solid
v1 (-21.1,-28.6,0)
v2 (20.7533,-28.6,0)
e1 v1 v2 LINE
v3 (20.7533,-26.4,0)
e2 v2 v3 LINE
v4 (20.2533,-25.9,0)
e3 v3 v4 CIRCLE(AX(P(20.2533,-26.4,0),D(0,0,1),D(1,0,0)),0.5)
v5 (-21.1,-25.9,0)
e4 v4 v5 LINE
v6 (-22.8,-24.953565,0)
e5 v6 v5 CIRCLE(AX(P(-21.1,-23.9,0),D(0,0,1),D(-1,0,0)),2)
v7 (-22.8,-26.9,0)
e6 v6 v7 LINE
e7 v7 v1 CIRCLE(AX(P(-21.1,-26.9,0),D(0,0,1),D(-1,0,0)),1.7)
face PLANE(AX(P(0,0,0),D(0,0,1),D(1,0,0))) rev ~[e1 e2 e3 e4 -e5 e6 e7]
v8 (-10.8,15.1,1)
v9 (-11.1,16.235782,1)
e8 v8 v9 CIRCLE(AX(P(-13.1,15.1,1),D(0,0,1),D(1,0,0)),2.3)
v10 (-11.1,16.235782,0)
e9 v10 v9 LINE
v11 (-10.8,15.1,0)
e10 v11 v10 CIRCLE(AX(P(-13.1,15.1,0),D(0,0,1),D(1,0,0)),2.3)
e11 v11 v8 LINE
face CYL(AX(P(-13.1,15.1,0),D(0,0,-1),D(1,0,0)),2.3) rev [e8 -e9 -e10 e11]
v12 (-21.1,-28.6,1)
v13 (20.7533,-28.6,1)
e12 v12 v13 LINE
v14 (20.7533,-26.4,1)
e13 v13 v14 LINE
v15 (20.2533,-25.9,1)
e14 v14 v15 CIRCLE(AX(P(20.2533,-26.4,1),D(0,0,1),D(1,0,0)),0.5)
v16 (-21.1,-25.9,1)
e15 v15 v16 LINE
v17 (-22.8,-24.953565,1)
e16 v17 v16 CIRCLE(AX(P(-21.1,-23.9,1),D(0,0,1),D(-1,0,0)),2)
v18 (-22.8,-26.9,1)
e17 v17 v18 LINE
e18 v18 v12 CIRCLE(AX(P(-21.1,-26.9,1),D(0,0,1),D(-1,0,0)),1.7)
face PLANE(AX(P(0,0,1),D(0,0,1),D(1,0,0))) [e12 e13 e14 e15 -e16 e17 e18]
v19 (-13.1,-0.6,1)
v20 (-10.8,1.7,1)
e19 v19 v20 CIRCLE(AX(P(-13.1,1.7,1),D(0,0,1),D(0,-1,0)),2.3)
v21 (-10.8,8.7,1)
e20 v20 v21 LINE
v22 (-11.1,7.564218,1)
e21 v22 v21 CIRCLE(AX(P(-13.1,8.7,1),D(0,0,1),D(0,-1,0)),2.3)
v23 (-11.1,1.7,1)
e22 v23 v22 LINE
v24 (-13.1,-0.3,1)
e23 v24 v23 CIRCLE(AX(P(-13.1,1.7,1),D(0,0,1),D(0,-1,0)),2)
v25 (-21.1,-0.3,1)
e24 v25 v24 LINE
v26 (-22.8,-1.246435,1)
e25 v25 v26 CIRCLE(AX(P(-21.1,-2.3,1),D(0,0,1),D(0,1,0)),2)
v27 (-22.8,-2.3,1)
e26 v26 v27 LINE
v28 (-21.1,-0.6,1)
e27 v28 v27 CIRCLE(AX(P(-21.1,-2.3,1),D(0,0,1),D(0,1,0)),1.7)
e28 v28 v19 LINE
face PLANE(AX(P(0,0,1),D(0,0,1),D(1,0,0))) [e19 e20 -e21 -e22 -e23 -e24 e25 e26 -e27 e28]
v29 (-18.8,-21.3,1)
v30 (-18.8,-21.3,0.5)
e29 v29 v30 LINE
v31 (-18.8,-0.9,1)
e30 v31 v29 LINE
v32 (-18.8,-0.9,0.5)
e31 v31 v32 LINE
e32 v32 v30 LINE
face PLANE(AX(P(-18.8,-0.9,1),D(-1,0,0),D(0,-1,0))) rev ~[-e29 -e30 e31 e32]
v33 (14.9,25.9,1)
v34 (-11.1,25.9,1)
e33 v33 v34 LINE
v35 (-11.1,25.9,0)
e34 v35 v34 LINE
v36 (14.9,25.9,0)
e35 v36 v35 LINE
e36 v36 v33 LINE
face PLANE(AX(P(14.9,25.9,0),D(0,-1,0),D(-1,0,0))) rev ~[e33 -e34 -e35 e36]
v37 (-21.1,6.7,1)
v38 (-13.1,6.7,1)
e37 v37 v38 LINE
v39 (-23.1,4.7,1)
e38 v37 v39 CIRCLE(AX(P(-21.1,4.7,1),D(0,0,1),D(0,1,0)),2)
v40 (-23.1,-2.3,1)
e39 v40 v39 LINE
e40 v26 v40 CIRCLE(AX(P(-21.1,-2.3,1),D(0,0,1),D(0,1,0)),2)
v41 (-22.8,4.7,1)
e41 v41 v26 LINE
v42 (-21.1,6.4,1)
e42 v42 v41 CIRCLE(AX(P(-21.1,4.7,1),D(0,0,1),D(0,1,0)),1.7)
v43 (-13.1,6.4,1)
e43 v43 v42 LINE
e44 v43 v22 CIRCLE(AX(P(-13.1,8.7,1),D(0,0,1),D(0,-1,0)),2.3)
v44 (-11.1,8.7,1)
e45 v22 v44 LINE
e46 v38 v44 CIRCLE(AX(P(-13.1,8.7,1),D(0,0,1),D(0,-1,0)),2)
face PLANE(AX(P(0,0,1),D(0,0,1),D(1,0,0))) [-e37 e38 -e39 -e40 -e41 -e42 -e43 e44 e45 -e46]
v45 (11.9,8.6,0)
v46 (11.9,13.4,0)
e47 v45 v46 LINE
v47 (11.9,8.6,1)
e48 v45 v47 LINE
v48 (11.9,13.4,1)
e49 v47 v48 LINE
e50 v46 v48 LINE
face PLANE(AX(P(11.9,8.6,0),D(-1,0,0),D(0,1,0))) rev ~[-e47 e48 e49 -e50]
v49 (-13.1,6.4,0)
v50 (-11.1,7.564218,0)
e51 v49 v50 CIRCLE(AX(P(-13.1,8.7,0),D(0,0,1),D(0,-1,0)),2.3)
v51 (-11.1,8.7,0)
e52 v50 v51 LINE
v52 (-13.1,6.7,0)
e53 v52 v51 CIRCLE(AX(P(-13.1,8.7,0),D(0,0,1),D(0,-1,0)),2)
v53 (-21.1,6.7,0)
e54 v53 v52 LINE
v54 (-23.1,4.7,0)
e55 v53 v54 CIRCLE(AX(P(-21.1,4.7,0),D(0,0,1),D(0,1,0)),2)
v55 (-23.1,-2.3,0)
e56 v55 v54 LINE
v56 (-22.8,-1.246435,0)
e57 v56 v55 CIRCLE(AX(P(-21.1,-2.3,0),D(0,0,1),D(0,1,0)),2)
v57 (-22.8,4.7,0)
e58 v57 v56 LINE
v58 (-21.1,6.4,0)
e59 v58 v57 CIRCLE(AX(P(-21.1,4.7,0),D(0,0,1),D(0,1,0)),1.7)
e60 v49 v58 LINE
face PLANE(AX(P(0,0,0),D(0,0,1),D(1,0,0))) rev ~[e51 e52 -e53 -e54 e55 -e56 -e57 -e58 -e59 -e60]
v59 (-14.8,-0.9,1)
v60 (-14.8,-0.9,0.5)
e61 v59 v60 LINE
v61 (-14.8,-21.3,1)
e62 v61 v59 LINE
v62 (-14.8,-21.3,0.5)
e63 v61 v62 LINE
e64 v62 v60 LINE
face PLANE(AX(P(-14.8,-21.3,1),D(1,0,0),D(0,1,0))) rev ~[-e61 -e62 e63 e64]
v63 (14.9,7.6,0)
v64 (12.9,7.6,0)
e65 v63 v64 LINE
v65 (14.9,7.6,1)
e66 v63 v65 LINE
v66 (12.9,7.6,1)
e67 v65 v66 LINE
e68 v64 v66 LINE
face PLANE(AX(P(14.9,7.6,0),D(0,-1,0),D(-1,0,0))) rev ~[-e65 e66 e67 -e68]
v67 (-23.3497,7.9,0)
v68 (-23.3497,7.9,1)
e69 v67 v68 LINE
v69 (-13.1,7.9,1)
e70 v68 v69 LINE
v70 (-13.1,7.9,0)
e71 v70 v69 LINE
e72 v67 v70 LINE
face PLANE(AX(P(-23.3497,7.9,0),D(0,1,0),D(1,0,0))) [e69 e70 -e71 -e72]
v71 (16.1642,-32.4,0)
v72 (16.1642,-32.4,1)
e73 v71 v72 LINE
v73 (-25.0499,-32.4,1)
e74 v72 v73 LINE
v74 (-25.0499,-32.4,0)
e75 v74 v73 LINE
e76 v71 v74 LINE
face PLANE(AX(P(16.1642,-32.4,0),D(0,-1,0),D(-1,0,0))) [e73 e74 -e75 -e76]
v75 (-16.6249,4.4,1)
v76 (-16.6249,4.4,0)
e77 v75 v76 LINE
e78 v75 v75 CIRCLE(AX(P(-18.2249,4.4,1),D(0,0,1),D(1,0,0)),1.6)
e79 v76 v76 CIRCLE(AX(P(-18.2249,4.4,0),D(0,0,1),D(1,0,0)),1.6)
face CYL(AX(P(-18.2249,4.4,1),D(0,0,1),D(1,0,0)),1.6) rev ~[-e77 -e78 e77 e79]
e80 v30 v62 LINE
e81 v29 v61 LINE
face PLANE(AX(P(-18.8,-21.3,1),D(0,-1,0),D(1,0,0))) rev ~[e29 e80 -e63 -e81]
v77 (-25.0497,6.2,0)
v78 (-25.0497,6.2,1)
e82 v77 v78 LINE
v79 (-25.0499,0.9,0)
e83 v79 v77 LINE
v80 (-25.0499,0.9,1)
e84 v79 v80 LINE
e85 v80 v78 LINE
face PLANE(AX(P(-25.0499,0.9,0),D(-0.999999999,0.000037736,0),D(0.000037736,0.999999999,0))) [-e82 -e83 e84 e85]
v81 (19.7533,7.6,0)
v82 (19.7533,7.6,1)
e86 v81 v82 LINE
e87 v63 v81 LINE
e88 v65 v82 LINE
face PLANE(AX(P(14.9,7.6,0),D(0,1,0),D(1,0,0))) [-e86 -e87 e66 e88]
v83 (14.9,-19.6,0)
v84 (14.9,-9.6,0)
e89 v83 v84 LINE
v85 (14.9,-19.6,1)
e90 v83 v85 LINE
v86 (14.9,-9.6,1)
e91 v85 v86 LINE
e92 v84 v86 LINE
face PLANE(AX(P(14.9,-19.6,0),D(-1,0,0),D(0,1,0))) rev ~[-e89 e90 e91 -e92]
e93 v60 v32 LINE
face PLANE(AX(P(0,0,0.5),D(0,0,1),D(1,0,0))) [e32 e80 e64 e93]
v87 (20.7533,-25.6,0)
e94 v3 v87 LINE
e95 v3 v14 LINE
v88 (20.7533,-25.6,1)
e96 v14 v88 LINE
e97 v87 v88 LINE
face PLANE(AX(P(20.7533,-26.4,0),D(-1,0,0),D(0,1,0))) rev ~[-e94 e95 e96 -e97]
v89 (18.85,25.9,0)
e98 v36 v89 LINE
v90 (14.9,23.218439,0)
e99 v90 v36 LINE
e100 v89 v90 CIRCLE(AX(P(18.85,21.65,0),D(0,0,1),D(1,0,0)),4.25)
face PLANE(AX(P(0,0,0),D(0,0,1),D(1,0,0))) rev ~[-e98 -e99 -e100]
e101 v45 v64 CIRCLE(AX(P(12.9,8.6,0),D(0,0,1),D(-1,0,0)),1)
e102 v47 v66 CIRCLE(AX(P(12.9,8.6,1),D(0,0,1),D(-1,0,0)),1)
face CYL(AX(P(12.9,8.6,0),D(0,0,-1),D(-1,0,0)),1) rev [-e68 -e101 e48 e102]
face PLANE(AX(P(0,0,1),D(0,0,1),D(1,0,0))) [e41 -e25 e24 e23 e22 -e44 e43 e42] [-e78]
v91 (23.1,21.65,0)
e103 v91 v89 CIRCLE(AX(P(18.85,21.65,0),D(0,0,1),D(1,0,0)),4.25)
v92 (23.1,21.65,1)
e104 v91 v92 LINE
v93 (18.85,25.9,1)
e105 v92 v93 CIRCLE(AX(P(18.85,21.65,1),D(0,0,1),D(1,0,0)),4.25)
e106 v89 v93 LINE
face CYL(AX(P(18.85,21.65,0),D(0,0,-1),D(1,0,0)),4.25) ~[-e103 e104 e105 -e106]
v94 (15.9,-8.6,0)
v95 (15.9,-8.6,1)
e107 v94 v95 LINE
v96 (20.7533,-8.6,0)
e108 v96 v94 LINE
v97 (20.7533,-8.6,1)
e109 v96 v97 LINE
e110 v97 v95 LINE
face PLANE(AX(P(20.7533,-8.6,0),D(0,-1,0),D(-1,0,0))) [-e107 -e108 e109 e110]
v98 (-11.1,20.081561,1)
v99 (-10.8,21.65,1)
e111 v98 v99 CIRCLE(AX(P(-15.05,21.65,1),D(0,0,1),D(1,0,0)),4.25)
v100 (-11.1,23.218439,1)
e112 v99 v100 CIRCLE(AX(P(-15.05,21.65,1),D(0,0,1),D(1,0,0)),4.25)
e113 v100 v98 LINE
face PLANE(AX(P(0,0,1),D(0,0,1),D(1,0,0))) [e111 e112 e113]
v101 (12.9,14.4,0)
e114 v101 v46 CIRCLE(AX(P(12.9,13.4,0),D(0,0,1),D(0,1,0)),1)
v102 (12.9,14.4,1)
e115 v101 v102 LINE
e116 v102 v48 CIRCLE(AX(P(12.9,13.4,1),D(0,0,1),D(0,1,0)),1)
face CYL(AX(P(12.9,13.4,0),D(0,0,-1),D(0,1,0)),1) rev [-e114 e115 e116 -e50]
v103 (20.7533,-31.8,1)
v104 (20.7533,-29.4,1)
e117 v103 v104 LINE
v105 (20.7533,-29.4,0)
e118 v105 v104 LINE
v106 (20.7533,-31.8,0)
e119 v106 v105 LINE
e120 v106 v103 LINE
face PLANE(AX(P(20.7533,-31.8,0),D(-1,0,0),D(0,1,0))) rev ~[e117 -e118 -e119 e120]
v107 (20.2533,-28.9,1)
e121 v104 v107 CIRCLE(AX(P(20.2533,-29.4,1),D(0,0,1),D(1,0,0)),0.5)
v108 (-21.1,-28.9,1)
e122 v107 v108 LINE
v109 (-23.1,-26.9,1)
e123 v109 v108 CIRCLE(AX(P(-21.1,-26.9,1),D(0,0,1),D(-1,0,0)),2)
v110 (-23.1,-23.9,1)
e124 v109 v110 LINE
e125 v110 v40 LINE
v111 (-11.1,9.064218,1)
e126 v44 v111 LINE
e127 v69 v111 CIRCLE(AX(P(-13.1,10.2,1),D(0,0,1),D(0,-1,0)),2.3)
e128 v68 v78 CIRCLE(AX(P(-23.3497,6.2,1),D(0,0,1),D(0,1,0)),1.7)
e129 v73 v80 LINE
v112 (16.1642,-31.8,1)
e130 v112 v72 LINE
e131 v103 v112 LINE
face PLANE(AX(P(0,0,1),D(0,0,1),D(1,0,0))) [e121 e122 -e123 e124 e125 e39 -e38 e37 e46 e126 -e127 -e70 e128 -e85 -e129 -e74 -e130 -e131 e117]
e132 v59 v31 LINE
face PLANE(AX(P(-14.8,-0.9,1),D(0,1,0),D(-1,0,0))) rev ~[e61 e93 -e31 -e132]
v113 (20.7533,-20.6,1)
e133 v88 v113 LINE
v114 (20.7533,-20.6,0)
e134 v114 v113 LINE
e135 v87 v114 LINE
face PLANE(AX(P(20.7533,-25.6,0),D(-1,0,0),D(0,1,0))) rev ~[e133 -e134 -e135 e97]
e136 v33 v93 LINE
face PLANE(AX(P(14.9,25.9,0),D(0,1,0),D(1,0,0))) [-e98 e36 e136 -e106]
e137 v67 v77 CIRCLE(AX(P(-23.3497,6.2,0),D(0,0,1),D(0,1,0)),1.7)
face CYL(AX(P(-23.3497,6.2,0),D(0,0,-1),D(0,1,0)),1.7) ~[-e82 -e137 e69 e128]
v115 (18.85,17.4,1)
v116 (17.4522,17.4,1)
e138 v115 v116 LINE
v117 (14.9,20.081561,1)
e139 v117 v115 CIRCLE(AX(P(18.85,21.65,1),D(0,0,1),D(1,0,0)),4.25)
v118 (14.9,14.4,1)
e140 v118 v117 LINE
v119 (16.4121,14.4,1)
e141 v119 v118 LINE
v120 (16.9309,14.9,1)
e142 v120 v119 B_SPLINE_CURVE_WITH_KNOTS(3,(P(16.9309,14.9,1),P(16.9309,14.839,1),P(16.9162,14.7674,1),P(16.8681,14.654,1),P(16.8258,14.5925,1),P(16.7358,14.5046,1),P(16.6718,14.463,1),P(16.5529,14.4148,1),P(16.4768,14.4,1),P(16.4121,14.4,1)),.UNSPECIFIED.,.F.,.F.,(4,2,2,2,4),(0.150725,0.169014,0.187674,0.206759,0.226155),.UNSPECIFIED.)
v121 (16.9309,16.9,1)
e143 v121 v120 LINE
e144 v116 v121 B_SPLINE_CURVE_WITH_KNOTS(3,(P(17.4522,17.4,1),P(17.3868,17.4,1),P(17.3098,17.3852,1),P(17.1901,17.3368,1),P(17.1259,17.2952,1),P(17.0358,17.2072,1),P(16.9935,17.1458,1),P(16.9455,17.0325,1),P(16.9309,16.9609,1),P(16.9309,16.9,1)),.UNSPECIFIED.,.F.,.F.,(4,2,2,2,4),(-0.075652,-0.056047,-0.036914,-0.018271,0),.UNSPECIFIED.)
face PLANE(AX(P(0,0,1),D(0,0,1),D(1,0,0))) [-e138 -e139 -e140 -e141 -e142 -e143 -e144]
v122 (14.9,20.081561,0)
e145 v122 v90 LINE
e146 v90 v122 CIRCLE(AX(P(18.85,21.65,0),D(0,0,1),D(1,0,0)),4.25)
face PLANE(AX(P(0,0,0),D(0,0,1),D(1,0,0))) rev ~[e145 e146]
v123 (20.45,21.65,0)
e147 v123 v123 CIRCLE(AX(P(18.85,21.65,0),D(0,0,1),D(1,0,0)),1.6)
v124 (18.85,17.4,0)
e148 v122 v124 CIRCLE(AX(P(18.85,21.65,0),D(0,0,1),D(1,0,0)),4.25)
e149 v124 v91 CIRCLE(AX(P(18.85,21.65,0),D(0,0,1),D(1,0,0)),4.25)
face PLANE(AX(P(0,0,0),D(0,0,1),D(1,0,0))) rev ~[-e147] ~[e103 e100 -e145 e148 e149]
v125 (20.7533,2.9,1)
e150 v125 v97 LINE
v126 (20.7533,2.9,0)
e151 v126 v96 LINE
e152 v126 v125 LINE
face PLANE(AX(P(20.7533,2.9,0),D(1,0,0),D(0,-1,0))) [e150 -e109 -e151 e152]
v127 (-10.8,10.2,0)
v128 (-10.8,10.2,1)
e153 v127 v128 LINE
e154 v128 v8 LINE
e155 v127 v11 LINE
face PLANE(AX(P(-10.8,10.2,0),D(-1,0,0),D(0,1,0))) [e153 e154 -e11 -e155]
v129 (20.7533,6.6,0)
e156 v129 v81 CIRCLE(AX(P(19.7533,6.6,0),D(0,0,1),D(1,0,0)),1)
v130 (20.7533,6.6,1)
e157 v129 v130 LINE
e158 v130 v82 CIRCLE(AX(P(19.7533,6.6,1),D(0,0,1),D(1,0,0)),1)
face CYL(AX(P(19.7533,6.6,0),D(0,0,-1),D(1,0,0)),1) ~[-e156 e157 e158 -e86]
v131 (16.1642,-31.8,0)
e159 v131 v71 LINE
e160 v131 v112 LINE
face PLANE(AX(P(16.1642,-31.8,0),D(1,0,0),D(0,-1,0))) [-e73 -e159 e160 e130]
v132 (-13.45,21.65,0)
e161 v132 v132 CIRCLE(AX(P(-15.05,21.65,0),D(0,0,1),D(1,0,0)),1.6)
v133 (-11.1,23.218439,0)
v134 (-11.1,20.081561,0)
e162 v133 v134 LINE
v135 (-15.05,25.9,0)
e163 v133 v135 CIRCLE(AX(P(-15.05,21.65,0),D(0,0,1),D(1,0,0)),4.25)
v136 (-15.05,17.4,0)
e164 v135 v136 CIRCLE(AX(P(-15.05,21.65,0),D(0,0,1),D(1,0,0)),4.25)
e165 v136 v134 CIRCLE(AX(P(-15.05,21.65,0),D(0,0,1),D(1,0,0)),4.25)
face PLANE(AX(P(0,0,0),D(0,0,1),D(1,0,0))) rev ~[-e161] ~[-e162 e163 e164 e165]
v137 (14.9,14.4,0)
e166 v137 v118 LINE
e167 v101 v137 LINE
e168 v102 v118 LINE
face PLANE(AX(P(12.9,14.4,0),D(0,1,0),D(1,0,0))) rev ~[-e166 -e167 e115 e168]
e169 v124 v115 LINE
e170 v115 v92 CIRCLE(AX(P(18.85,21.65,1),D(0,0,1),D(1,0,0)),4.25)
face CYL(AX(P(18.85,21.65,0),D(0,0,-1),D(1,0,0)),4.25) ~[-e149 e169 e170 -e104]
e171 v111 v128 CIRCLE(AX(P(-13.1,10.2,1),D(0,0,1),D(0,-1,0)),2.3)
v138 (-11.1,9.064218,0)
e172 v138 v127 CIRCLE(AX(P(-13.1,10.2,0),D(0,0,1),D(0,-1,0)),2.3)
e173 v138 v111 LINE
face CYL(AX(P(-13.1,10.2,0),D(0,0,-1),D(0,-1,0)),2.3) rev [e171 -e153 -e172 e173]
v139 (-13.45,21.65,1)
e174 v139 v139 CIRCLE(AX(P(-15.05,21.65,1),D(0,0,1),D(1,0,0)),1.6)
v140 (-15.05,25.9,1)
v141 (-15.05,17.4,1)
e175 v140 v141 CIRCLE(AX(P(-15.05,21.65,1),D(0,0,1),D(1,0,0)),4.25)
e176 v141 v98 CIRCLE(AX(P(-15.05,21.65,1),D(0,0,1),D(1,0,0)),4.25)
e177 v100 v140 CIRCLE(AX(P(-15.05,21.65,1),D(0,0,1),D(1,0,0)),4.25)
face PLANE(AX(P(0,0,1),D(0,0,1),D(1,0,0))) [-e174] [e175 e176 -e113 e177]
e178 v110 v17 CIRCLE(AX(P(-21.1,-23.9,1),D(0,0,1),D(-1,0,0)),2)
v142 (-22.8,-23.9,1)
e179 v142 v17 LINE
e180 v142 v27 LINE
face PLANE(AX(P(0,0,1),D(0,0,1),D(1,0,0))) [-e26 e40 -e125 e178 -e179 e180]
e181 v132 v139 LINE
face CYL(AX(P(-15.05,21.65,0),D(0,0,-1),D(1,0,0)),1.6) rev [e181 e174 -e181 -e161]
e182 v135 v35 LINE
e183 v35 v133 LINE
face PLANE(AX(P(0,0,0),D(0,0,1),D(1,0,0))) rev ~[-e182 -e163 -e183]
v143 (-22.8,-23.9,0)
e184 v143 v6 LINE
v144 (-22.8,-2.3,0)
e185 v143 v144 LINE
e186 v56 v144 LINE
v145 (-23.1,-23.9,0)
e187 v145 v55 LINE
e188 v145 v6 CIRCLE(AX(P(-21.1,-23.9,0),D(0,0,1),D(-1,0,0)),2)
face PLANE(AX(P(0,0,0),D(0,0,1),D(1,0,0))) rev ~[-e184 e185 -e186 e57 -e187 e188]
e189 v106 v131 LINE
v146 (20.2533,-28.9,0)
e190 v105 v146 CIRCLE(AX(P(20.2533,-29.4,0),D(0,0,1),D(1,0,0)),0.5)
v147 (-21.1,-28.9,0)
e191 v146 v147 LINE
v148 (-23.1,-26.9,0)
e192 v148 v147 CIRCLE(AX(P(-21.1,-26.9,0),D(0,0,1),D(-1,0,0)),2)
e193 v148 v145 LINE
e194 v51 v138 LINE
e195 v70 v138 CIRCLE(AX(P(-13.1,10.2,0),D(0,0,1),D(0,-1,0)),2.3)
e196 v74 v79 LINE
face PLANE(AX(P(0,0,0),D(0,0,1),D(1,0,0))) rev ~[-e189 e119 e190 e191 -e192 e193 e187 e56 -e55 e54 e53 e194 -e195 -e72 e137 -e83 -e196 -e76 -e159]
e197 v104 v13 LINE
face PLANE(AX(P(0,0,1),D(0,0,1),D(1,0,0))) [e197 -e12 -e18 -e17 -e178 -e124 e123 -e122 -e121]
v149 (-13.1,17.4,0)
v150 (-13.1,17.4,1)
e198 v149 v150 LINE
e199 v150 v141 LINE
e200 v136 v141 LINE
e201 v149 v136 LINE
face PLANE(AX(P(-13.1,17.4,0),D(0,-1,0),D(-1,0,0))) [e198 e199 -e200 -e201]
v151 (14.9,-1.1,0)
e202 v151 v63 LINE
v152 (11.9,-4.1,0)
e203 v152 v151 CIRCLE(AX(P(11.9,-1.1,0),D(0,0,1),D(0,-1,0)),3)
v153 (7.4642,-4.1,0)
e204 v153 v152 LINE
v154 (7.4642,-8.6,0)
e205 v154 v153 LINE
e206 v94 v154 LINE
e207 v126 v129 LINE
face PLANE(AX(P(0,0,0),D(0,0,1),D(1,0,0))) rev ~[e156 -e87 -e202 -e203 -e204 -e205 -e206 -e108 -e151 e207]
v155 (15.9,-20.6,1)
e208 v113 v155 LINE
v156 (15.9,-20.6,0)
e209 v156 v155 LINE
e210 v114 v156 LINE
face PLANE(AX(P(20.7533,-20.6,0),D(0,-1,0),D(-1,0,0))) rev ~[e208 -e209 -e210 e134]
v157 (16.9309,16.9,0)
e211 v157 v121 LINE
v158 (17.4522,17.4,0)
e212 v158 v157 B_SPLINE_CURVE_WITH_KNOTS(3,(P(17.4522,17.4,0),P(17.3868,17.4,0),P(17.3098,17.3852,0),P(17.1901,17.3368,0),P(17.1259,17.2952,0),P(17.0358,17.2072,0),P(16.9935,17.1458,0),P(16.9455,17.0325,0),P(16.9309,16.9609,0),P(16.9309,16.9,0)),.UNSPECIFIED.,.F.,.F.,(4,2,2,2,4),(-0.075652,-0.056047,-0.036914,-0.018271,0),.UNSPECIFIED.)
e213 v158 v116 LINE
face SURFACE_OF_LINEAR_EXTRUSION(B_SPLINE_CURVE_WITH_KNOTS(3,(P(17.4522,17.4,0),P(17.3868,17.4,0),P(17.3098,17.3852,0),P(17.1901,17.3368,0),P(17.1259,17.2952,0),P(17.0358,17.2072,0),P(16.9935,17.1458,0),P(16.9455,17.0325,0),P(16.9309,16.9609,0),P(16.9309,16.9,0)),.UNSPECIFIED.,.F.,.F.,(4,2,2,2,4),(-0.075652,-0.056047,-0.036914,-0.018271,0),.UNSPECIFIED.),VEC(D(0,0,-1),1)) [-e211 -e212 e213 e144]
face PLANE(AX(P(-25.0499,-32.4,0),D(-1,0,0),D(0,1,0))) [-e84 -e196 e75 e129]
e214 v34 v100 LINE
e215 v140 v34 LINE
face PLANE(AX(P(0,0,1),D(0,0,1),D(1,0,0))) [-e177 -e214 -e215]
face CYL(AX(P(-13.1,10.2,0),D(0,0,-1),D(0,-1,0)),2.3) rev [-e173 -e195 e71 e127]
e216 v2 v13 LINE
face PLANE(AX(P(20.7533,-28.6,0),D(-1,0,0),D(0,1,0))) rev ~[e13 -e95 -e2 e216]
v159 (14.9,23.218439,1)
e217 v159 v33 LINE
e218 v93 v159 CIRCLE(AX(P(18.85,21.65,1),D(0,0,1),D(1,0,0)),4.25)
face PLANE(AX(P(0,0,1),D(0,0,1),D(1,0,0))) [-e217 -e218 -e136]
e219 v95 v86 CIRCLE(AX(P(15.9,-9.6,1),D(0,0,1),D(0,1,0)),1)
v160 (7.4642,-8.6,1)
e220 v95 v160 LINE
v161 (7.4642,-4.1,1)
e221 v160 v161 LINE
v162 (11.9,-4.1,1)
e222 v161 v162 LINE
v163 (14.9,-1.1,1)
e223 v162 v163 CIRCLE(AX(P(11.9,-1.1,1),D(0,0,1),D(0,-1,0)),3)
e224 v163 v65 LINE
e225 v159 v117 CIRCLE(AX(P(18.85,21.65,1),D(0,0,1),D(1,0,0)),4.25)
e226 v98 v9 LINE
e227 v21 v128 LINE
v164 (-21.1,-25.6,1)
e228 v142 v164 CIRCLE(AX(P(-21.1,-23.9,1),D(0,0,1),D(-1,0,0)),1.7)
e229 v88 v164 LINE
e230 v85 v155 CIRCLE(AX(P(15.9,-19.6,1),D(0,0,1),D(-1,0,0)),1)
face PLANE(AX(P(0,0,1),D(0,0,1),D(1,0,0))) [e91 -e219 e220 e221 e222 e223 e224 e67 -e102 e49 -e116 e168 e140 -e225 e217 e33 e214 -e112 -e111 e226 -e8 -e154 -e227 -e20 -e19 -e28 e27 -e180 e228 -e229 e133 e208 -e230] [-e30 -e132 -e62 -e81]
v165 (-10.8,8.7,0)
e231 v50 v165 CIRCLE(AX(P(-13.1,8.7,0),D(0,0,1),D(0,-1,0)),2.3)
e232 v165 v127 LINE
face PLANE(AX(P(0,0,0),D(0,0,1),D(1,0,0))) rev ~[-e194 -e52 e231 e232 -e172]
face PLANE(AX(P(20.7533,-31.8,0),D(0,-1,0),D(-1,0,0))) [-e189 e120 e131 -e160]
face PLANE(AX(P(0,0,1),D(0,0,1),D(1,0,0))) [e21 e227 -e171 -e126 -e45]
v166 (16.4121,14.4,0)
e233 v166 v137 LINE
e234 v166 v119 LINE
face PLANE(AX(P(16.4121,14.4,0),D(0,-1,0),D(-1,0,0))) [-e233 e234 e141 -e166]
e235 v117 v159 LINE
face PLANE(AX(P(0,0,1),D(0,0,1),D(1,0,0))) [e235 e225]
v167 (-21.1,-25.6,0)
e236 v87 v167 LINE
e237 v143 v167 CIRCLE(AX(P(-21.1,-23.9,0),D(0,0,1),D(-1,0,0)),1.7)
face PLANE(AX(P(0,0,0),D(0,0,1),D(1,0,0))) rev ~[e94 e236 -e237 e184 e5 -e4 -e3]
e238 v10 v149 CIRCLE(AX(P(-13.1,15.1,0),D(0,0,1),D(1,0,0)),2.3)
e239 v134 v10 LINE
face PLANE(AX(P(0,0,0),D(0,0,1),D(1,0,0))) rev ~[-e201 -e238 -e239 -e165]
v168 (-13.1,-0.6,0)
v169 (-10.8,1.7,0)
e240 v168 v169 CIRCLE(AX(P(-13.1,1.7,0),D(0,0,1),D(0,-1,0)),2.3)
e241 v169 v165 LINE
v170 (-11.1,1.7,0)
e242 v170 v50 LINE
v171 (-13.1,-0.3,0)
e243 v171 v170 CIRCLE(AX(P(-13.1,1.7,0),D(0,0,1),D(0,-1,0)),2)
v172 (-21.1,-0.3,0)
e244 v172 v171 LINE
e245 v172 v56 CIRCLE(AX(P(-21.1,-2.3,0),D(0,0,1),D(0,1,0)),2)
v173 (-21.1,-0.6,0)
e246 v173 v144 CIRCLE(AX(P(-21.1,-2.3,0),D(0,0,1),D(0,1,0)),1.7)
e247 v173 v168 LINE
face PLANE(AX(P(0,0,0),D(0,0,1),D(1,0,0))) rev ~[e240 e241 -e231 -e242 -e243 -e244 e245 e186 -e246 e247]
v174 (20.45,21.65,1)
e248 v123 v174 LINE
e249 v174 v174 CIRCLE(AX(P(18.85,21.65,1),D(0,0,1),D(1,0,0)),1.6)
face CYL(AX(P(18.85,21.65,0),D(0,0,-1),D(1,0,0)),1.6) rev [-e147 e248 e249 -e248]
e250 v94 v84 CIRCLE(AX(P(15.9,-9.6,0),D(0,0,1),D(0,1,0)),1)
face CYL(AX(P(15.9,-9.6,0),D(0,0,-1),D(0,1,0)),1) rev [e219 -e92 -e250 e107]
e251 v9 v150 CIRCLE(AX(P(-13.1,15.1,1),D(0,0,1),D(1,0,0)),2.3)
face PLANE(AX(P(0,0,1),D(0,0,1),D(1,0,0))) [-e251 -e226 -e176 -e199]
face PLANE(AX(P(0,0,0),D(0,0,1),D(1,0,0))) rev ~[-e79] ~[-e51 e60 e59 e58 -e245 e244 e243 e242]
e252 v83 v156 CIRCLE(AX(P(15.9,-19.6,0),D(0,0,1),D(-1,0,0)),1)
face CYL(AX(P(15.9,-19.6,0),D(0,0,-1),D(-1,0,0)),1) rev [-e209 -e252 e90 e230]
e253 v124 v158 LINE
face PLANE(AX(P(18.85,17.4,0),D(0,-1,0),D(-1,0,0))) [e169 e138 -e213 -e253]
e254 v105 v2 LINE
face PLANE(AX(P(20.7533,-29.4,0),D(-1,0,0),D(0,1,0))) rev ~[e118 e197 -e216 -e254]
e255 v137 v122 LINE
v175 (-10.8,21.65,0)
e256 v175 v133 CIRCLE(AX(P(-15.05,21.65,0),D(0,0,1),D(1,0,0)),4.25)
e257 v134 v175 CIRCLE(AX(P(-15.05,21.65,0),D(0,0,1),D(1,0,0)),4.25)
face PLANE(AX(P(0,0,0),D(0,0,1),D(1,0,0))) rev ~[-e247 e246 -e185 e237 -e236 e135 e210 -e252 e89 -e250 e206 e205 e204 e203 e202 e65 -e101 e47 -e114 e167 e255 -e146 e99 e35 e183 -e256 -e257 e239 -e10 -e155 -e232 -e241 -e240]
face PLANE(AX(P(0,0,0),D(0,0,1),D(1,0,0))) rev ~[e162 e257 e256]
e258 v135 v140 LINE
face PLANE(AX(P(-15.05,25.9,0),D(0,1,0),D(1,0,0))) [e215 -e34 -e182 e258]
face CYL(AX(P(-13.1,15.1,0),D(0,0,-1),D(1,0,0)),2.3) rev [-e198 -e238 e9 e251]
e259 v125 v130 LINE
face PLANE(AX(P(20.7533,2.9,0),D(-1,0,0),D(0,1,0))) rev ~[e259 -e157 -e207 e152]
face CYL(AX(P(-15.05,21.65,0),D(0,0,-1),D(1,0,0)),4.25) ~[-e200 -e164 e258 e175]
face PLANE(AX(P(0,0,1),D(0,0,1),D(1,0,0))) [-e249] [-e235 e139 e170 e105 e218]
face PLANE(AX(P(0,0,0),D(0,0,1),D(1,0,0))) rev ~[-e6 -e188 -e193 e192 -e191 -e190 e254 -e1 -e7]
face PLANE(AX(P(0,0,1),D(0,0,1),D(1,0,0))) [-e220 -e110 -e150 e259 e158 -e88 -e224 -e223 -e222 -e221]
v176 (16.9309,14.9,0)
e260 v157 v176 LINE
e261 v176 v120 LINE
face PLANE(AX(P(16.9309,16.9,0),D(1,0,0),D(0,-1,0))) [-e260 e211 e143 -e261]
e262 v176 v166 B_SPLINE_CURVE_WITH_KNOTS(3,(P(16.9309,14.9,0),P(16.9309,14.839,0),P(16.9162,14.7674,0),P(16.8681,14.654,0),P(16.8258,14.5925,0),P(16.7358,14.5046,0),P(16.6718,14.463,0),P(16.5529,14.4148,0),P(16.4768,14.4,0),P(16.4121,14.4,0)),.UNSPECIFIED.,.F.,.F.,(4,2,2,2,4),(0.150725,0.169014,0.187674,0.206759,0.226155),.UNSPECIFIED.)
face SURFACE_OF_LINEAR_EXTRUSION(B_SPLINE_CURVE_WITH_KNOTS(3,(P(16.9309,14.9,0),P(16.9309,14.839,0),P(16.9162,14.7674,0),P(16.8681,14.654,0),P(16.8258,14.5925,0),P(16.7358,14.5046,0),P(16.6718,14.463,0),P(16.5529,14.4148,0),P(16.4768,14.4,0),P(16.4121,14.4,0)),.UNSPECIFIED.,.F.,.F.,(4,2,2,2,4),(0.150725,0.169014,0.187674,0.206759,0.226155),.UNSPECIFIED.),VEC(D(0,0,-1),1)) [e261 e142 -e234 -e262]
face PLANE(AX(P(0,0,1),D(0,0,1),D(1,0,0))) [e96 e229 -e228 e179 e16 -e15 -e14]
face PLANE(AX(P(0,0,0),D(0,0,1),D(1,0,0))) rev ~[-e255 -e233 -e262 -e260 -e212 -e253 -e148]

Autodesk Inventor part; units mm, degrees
ref_plane "YZ Plane" through (0, 0, 0) normal (1, 0, 0) x (0, 1, 0)
ref_plane "XZ Plane" through (0, 0, 0) normal (0, 1, 0) x (-1, 0, 0)
ref_plane "XY Plane" through (0, 0, 0) normal (0, 0, 1) x (1, 0, 0)
sketch "Эскиз1" plane through (0, 0, 0) normal (0, 0, 1) x (1, 0, 0)
  line L0 (-7.7719, -54) -> (-12.7719, -54) projected
  line L1 (-12.7719, -54) -> (-12.7719, -40.5) projected
  line L2 (-12.7719, -40.5) -> (-7.7719, -40.5) projected
  line L3 (-7.7719, -40.5) -> (-7.7719, -54) projected
  circle A0 centre (-17.7467, 10.9) radius 1.6 projected
  circle A1 centre (-17.7467, -40.1) radius 1.6 projected
  arc A2 (20.7533, -26.4) -> (20.2533, -25.9) centre (20.2533, -26.4) ccw projected
  line L4 (20.2533, -25.9) -> (-21.1, -25.9) projected
  arc A3 (-23.1, -23.9) -> (-21.1, -25.9) centre (-21.1, -23.9) ccw projected
  line L5 (-23.1, -23.9) -> (-23.1, -2.3) projected
  arc A4 (-21.1, -0.3) -> (-23.1, -2.3) centre (-21.1, -2.3) ccw projected
  line L6 (-21.1, -0.3) -> (-13.1, -0.3) projected
  arc A5 (-13.1, -0.3) -> (-11.1, 1.7) centre (-13.1, 1.7) ccw projected
  line L7 (-11.1, 1.7) -> (-11.1, 15.1) projected
  arc A6 (-11.1, 15.1) -> (-13.1, 17.1) centre (-13.1, 15.1) ccw projected
  line L8 (-13.1, 17.1) -> (-15.05, 17.1) projected
  arc A7 (-18.0974, 25.0287) -> (-15.05, 17.1) centre (-15.05, 21.65) ccw projected
  arc A8 (-18.0974, 25.0287) -> (-18.4323, 25.9) centre (-18.4323, 25.4) ccw projected
  line L9 (-25.3018, 25.9) -> (-18.4323, 25.9) projected
  line L10 (-25.3018, 25.9) -> (-25.3018, 22.9) projected
  line L11 (-26.6467, 22.9) -> (-25.3018, 22.9) projected
  line L12 (-26.6467, -42.7) -> (-26.6467, 22.9) projected
  line L13 (-26.6467, -42.7) -> (-18.7719, -42.7) projected
  line L14 (-18.7719, -42.7) -> (-18.7719, -54.2) projected
  line L15 (-18.7719, -54.2) -> (-25.3018, -54.2) projected
  line L16 (-25.3018, -54.2) -> (-25.3018, -55.1) projected
  line L17 (31.7533, -55.1) -> (-25.3018, -55.1) projected
  line L18 (31.7533, -55.1) -> (31.7533, -46.6) projected
  line L19 (31.7533, -46.6) -> (17.9318, -46.6) projected
  spline S0 degree 3 poles (17.3769, -46.1) (17.3769, -46.1597) (17.3919, -46.2298) (17.441, -46.342) (17.485, -46.4032) (17.5795, -46.4922) (17.6478, -46.5345) (17.7766, -46.5847) (17.8606, -46.6) (17.9318, -46.6) knots 0 0 0 0 0.017914 0.017914 0.036753 0.036753 0.056849 0.056849 0.078208 0.078208 0.078208 0.078208 projected
  line L20 (17.3769, -46.1) -> (17.3769, -44.1) projected
  spline S1 degree 3 poles (16.8292, -43.6) (16.8984, -43.6) (16.9801, -43.6153) (17.1065, -43.6649) (17.1743, -43.7071) (17.2685, -43.796) (17.3126, -43.8574) (17.3619, -43.9699) (17.3769, -44.0401) (17.3769, -44.1) knots 0.386783 0.386783 0.386783 0.386783 0.407551 0.407551 0.427519 0.427519 0.446405 0.446405 0.464367 0.464367 0.464367 0.464367 projected
  line L21 (16.8292, -43.6) -> (14.9, -43.6) projected
  line L22 (14.9, -43.6) -> (14.9, -36.8) projected
  line L23 (14.9, -36.8) -> (31.7533, -36.8) projected
  line L24 (31.7533, -36.8) -> (31.7533, -32.1) projected
  line L25 (31.7533, -32.1) -> (20.7533, -32.1) projected
  line L26 (20.7533, -32.1) -> (20.7533, -26.4) projected
  arc A9 (21.8974, 18.2713) -> (22.2323, 17.4) centre (22.2323, 17.9) ccw projected
  line L27 (22.2323, 17.4) -> (31.7533, 17.4) projected
  line L28 (31.7533, 17.4) -> (31.7533, 25.9) projected
  line L29 (22.2323, 25.9) -> (31.7533, 25.9) projected
  arc A10 (22.2323, 25.9) -> (21.8974, 25.0287) centre (22.2323, 25.4) ccw projected
  arc A11 (21.8974, 18.2713) -> (21.8974, 25.0287) centre (18.85, 21.65) ccw projected
  line L30 (21.5533, 2.9) -> (31.7533, 2.9) projected
  line L31 (31.7533, 2.9) -> (31.7533, 7.6) projected
  line L32 (31.7533, 7.6) -> (21.5533, 7.6) projected
  line L33 (7.4642, -8.6) -> (7.4642, -4.1) projected
  line L34 (20.7533, -8.6) -> (7.4642, -8.6) projected
  line L35 (20.7533, 2.9) -> (20.7533, -8.6) projected
  line L36 (21.5533, 2.9) -> (20.7533, 2.9) projected
  line L37 (14.9, 7.6) -> (21.5533, 7.6) projected
  line L38 (14.9, -1.1) -> (14.9, 7.6) projected
  arc A12 (11.9, -4.1) -> (14.9, -1.1) centre (11.9, -1.1) ccw projected
  line L39 (7.4642, -4.1) -> (11.9, -4.1) projected
  line L40 (7.4642, -4.1) -> (11.9, -4.1) projected
  circle A13 centre (-15.05, 21.65) radius 1.5 projected
  line L41 (-18.4323, 25.9) -> (-11.1, 25.9) projected
  arc A14 (-18.0974, 25.0287) -> (-18.4323, 25.9) centre (-18.4323, 25.4) ccw projected
  arc A15 (-18.0974, 25.0287) -> (-15.05, 17.1) centre (-15.05, 21.65) ccw projected
  line L42 (-13.1, 17.1) -> (-15.05, 17.1) projected
  arc A16 (-11.1, 15.1) -> (-13.1, 17.1) centre (-13.1, 15.1) ccw projected
  line L43 (-11.1, 25.9) -> (-11.1, 15.1) projected
  line L44 (14.9, 25.9) -> (22.2323, 25.9) projected
  line L45 (14.9, 14.4) -> (14.9, 25.9) projected
  line L46 (16.4121, 14.4) -> (14.9, 14.4) projected
  spline S2 degree 3 poles (16.9309, 14.9) (16.9309, 14.839) (16.9162, 14.7674) (16.8681, 14.654) (16.8258, 14.5925) (16.7358, 14.5046) (16.6718, 14.463) (16.5529, 14.4148) (16.4768, 14.4) (16.4121, 14.4) knots 0.150725 0.150725 0.150725 0.150725 0.169014 0.169014 0.187674 0.187674 0.206759 0.206759 0.226155 0.226155 0.226155 0.226155 projected
  line L47 (16.9309, 16.9) -> (16.9309, 14.9) projected
  spline S3 degree 3 poles (17.4522, 17.4) (17.3868, 17.4) (17.3098, 17.3852) (17.1901, 17.3368) (17.1259, 17.2952) (17.0358, 17.2072) (16.9935, 17.1458) (16.9455, 17.0325) (16.9309, 16.9609) (16.9309, 16.9) knots -0.075652 -0.075652 -0.075652 -0.075652 -0.056047 -0.056047 -0.036914 -0.036914 -0.018271 -0.018271 0 0 0 0 projected
  line L48 (22.2323, 17.4) -> (17.4522, 17.4) projected
  arc A17 (21.8974, 18.2713) -> (22.2323, 17.4) centre (22.2323, 17.9) ccw projected
  arc A18 (21.8974, 18.2713) -> (21.8974, 25.0287) centre (18.85, 21.65) ccw projected
  arc A19 (22.2323, 25.9) -> (21.8974, 25.0287) centre (22.2323, 25.4) ccw projected
  circle A20 centre (18.85, 21.65) radius 1.5 projected
  circle A21 centre (18.85, 21.65) radius 4.25
  circle A22 centre (-15.05, 21.65) radius 4.25
  line L49 (18.85, 25.9) -> (-15.05, 25.9)
  circle A23 centre (18.85, 21.65) radius 1.6
  circle A24 centre (-15.05, 21.65) radius 1.6
  line L50 (14.9, 7.6) -> (12.9, 7.6)
  line L51 (11.9, 8.6) -> (11.9, 13.4)
  line L52 (12.9, 14.4) -> (14.9, 14.4)
  line L53 (14.9, 14.4) -> (14.9, 7.6)
  line L54 (20.7533, -25.6) -> (-21.1, -25.6)
  arc A25 (-22.8, -23.9) -> (-21.1, -25.6) centre (-21.1, -23.9) ccw
  line L55 (-22.8, -23.9) -> (-22.8, -2.3)
  line L56 (-21.1, -0.6) -> (-13.1, -0.6)
  arc A26 (-13.1, -0.6) -> (-10.8, 1.7) centre (-13.1, 1.7) ccw
  arc A27 (-21.1, -0.6) -> (-22.8, -2.3) centre (-21.1, -2.3) ccw
  line L57 (-10.8, 1.7) -> (-10.8, 15.1)
  arc A28 (-10.8, 15.1) -> (-13.1, 17.4) centre (-13.1, 15.1) ccw
  line L58 (-13.1, 17.4) -> (-15.05, 17.4)
  arc A29 (21.0533, 3.4) -> (21.5533, 2.9) centre (21.5533, 3.4) ccw projected
  arc A30 (21.5533, 7.6) -> (21.0533, 7.1) centre (21.5533, 7.1) ccw projected
  line L59 (21.0533, 7.1) -> (21.0533, 3.4) projected
  arc A31 (21.0533, 3.4) -> (21.5533, 2.9) centre (21.5533, 3.4) ccw projected
  line L60 (21.0533, 7.1) -> (21.0533, 3.4) projected
  arc A32 (21.5533, 7.6) -> (21.0533, 7.1) centre (21.5533, 7.1) ccw projected
  line L61 (20.7533, 2.9) -> (20.7533, 6.6)
  line L62 (19.7533, 7.6) -> (14.9, 7.6)
  arc A33 (20.7533, 6.6) -> (19.7533, 7.6) centre (19.7533, 6.6) ccw
  arc A34 (11.9, 8.6) -> (12.9, 7.6) centre (12.9, 8.6) ccw
  arc A35 (12.9, 14.4) -> (11.9, 13.4) centre (12.9, 13.4) ccw
  line L63 (20.7533, -25.6) -> (20.7533, -20.6)
  line L64 (20.7533, -20.6) -> (15.9, -20.6)
  line L65 (20.7533, -8.6) -> (7.4642, -8.6) projected
  line L66 (20.7533, 2.9) -> (20.7533, -8.6) projected
  line L67 (21.5533, 2.9) -> (20.7533, 2.9) projected
  arc A36 (21.0533, 3.4) -> (21.5533, 2.9) centre (21.5533, 3.4) ccw projected
  line L68 (21.0533, 7.1) -> (21.0533, 3.4) projected
  arc A37 (21.5533, 7.6) -> (21.0533, 7.1) centre (21.5533, 7.1) ccw projected
  line L69 (14.9, 7.6) -> (21.5533, 7.6) projected
  line L70 (14.9, -1.1) -> (14.9, 7.6) projected
  arc A38 (11.9, -4.1) -> (14.9, -1.1) centre (11.9, -1.1) ccw projected
  line L71 (7.4642, -8.6) -> (7.4642, -4.1) projected
  arc A39 (14.9, -19.6) -> (15.9, -20.6) centre (15.9, -19.6) ccw projected
  line L72 (14.9, -19.6) -> (14.9, -9.6) projected
  arc A40 (15.9, -8.6) -> (14.9, -9.6) centre (15.9, -9.6) ccw projected
  line L73 (-7.7719, -54) -> (-12.7719, -54) projected
  line L74 (-12.7719, -54) -> (-12.7719, -40.5) projected
  line L75 (-12.7719, -40.5) -> (-7.7719, -40.5) projected
  line L76 (-7.7719, -40.5) -> (-7.7719, -54) projected
  circle A41 centre (-17.7467, 10.9) radius 1.6 projected
  circle A42 centre (-17.7467, -40.1) radius 1.6 projected
  arc A43 (20.7533, -26.4) -> (20.2533, -25.9) centre (20.2533, -26.4) ccw projected
  line L77 (20.2533, -25.9) -> (-21.1, -25.9) projected
  arc A44 (-23.1, -23.9) -> (-21.1, -25.9) centre (-21.1, -23.9) ccw projected
  line L78 (-23.1, -23.9) -> (-23.1, 4.7) projected
  arc A45 (-21.1, 6.7) -> (-23.1, 4.7) centre (-21.1, 4.7) ccw projected
  line L79 (-21.1, 6.7) -> (-13.1, 6.7) projected
  arc A46 (-13.1, 6.7) -> (-11.1, 8.7) centre (-13.1, 8.7) ccw projected
  line L80 (-11.1, 8.7) -> (-11.1, 15.1) projected
  arc A47 (-11.1, 15.1) -> (-13.1, 17.1) centre (-13.1, 15.1) ccw projected
  line L81 (-13.1, 17.1) -> (-15.05, 17.1) projected
  arc A48 (-18.0974, 25.0287) -> (-15.05, 17.1) centre (-15.05, 21.65) ccw projected
  arc A49 (-18.0974, 25.0287) -> (-18.4323, 25.9) centre (-18.4323, 25.4) ccw projected
  line L82 (-25.3018, 25.9) -> (-18.4323, 25.9) projected
  line L83 (-25.3018, 25.9) -> (-25.3018, 22.9) projected
  line L84 (-26.6467, 22.9) -> (-25.3018, 22.9) projected
  line L85 (-26.6467, -42.7) -> (-26.6467, 22.9) projected
  line L86 (-26.6467, -42.7) -> (-18.7719, -42.7) projected
  line L87 (-18.7719, -42.7) -> (-18.7719, -54.2) projected
  line L88 (-18.7719, -54.2) -> (-25.3018, -54.2) projected
  line L89 (-25.3018, -54.2) -> (-25.3018, -55.1) projected
  line L90 (31.7533, -55.1) -> (-25.3018, -55.1) projected
  line L91 (31.7533, -55.1) -> (31.7533, -46.6) projected
  line L92 (31.7533, -46.6) -> (17.9318, -46.6) projected
  spline S4 degree 3 poles (17.3769, -46.1) (17.3769, -46.1597) (17.3919, -46.2298) (17.441, -46.342) (17.485, -46.4032) (17.5795, -46.4922) (17.6478, -46.5345) (17.7766, -46.5847) (17.8606, -46.6) (17.9318, -46.6) knots 0 0 0 0 0.017914 0.017914 0.036753 0.036753 0.056849 0.056849 0.078208 0.078208 0.078208 0.078208 projected
  line L93 (17.3769, -46.1) -> (17.3769, -44.1) projected
  spline S5 degree 3 poles (16.8292, -43.6) (16.8984, -43.6) (16.9801, -43.6153) (17.1065, -43.6649) (17.1743, -43.7071) (17.2685, -43.796) (17.3126, -43.8574) (17.3619, -43.9699) (17.3769, -44.0401) (17.3769, -44.1) knots 0.386783 0.386783 0.386783 0.386783 0.407551 0.407551 0.427519 0.427519 0.446405 0.446405 0.464367 0.464367 0.464367 0.464367 projected
  line L94 (16.8292, -43.6) -> (14.9, -43.6) projected
  line L95 (14.9, -43.6) -> (14.9, -36.8) projected
  line L96 (14.9, -36.8) -> (31.7533, -36.8) projected
  line L97 (31.7533, -36.8) -> (31.7533, -32.1) projected
  line L98 (31.7533, -32.1) -> (20.7533, -32.1) projected
  line L99 (20.7533, -32.1) -> (20.7533, -26.4) projected
  line L100 (-10.8, 15.1) -> (-10.8, 8.7)
  arc A50 (-13.1, 6.4) -> (-10.8, 8.7) centre (-13.1, 8.7) ccw
  line L101 (-13.1, 6.4) -> (-21.1, 6.4)
  arc A51 (-21.1, 6.4) -> (-22.8, 4.7) centre (-21.1, 4.7) ccw
  line L102 (-22.8, 4.7) -> (-22.8, -23.9)
  line L103 (-7.7719, -54) -> (-12.7719, -54) projected
  line L104 (-12.7719, -54) -> (-12.7719, -40.5) projected
  line L105 (-12.7719, -40.5) -> (-7.7719, -40.5) projected
  line L106 (-7.7719, -40.5) -> (-7.7719, -54) projected
  circle A52 centre (-17.7467, 10.9) radius 1.6 projected
  circle A53 centre (-17.7467, -40.1) radius 1.6 projected
  arc A54 (20.7533, -29.4) -> (20.2533, -28.9) centre (20.2533, -29.4) ccw projected
  line L107 (20.2533, -28.9) -> (-21.1, -28.9) projected
  arc A55 (-23.1, -26.9) -> (-21.1, -28.9) centre (-21.1, -26.9) ccw projected
  line L108 (-23.1, -26.9) -> (-23.1, 4.7) projected
  arc A56 (-21.1, 6.7) -> (-23.1, 4.7) centre (-21.1, 4.7) ccw projected
  line L109 (-21.1, 6.7) -> (-13.1, 6.7) projected
  arc A57 (-13.1, 6.7) -> (-11.1, 8.7) centre (-13.1, 8.7) ccw projected
  line L110 (-11.1, 8.7) -> (-11.1, 15.1) projected
  arc A58 (-11.1, 15.1) -> (-13.1, 17.1) centre (-13.1, 15.1) ccw projected
  line L111 (-13.1, 17.1) -> (-15.05, 17.1) projected
  arc A59 (-18.0974, 25.0287) -> (-15.05, 17.1) centre (-15.05, 21.65) ccw projected
  arc A60 (-18.0974, 25.0287) -> (-18.4323, 25.9) centre (-18.4323, 25.4) ccw projected
  line L112 (-25.3018, 25.9) -> (-18.4323, 25.9) projected
  line L113 (-25.3018, 25.9) -> (-25.3018, 22.9) projected
  line L114 (-26.6467, 22.9) -> (-25.3018, 22.9) projected
  line L115 (-26.6467, -42.7) -> (-26.6467, 22.9) projected
  line L116 (-26.6467, -42.7) -> (-18.7719, -42.7) projected
  line L117 (-18.7719, -42.7) -> (-18.7719, -54.2) projected
  line L118 (-18.7719, -54.2) -> (-25.3018, -54.2) projected
  line L119 (-25.3018, -54.2) -> (-25.3018, -55.1) projected
  line L120 (31.7533, -55.1) -> (-25.3018, -55.1) projected
  line L121 (31.7533, -55.1) -> (31.7533, -46.6) projected
  line L122 (31.7533, -46.6) -> (17.9318, -46.6) projected
  spline S6 degree 3 poles (17.3769, -46.1) (17.3769, -46.1597) (17.3919, -46.2298) (17.441, -46.342) (17.485, -46.4032) (17.5795, -46.4922) (17.6478, -46.5345) (17.7766, -46.5847) (17.8606, -46.6) (17.9318, -46.6) knots 0 0 0 0 0.017914 0.017914 0.036753 0.036753 0.056849 0.056849 0.078208 0.078208 0.078208 0.078208 projected
  line L123 (17.3769, -46.1) -> (17.3769, -44.1) projected
  spline S7 degree 3 poles (16.8292, -43.6) (16.8984, -43.6) (16.9801, -43.6153) (17.1065, -43.6649) (17.1743, -43.7071) (17.2685, -43.796) (17.3126, -43.8574) (17.3619, -43.9699) (17.3769, -44.0401) (17.3769, -44.1) knots 0.386783 0.386783 0.386783 0.386783 0.407551 0.407551 0.427519 0.427519 0.446405 0.446405 0.464367 0.464367 0.464367 0.464367 projected
  line L124 (16.8292, -43.6) -> (14.9, -43.6) projected
  line L125 (14.9, -43.6) -> (14.9, -36.8) projected
  line L126 (14.9, -36.8) -> (31.7533, -36.8) projected
  line L127 (31.7533, -36.8) -> (31.7533, -32.1) projected
  line L128 (31.7533, -32.1) -> (20.7533, -32.1) projected
  line L129 (20.7533, -32.1) -> (20.7533, -29.4) projected
  line L130 (-22.8, 4.7) -> (-22.8, -26.9)
  arc A61 (-22.8, -26.9) -> (-21.1, -28.6) centre (-21.1, -26.9) ccw
  line L131 (-21.1, -28.6) -> (20.7533, -28.6)
  line L132 (21.0533, -29.4) -> (21.0533, -32.1)
  line L133 (20.7533, -28.6) -> (20.7533, -25.6)
  arc A62 (-23.3497, 8.2) -> (-25.3497, 6.2) centre (-23.3497, 6.2) ccw
  line L134 (-23.3497, 8.2) -> (-13.1, 8.2)
  arc A63 (-13.1, 8.2) -> (-11.1, 10.2) centre (-13.1, 10.2) ccw
  line L135 (-25.3497, 0.9) -> (-25.3497, 6.2)
  line L136 (-25.3499, -32.7) -> (-25.3499, 0.9)
  line L137 (16.4642, -32.7) -> (-25.3499, -32.7)
  line L138 (31.7533, -32.1) -> (16.4642, -32.1)
  line L139 (16.4642, -32.1) -> (16.4642, -32.7)
  line L140 (31.7533, -31.8) -> (16.1642, -31.8)
  line L141 (16.1642, -31.8) -> (16.1642, -32.4)
  line L142 (16.1642, -32.4) -> (-25.0499, -32.4)
  line L143 (-25.0499, -32.4) -> (-25.0499, 0.9)
  line L144 (-25.0497, 0.9) -> (-25.0497, 6.2)
  arc A64 (-23.3497, 7.9) -> (-25.0497, 6.2) centre (-23.3497, 6.2) ccw
  line L145 (-23.3497, 7.9) -> (-13.1, 7.9)
  arc A65 (-13.1, 7.9) -> (-10.8, 10.2) centre (-13.1, 10.2) ccw
  line L146 (-10.8, 10.2) -> (-10.8, 15.1)
  line L147 (20.7533, -28.6) -> (20.7533, -31.8)
  line L148 (20.7533, -28.6) -> (-21.1, -28.6)
  line L149 (-25.0499, -32.4) -> (16.1642, -32.4)
  line L150 (16.1642, -31.8) -> (16.1642, -32.4)
  line L151 (16.1642, -31.8) -> (20.7533, -31.8)
  line L152 (-25.0497, 6.2) -> (-25.0499, -32.4)
  line L153 (-10.8, 10.2) -> (-10.8, 1.7)
  point P0 (0, 0)
  point P1 (20.7533, 3.4)
  point P2 (20.7533, 7.1)
  point P3 (7.4642, -25.9)
  point P4 (-3.6642, -25.9)
  point P5 (11.9, 14.4)
  point P6 (20.7533, 7.6)
  point P7 (18.85, 17.4)
  point P8 (-22.8, -2.3)
  point P9 (-21.1, -25.6)
  point P10 (-11.1, 16.2358)
  point P11 (-22.8, -2.3)
  point P12 (20.7533, -26.4)
  point P13 (-11.1, 9.0642)
  point P14 (-22.8, -1.2464)
  point P15 (-22.8, -2.3)
  dimension "d0" = 3.2
  dimension "d1" = 3.2
  dimension "d2" = 3
  dimension "d3" = 0.3
  dimension "d4" = 0.3
  dimension "d5" = 0.3
  dimension "d6" = 0.3
  dimension "d7" = 0.3
  dimension "d8" = 0.3
  dimension "d9" = 0.3
  dimension "d10" = 0.3
  dimension "d11" = 0.3
  dimension "d12" = 1
  dimension "d13" = 1
  dimension "d20" = 0.3
  dimension "d22" = 0.3
  dimension "d26" = 0.3
  dimension "d27" = 0.3
extrude "Выдавливание1" add sketch "Эскиз1" along normal blind 1 contours L26 L131 A61 L130 A3 L4 A2 | A2 L4 A3 L130 A25 L54 L133 | L26 A54 L107 A55 L108 A3 L130 A61 L131 | L54 A25 L55 A27 L56 A26 L57 A28 L43 A22 L49 L45 A21 L52 A35 L51 A34 L50 L38 A12 L39 L33 L34 A40 L72 A39 L64 L63 | L26 L140 L141 L142 L143 L144 A64 L145 A65 L7 A46 L79 A45 L78 L5 L108 A55 L107 A54 | A3 L5 A4 L102 L55 L130 | L102 A4 L6 A5 L7 A50 L57 A26 L56 A27 | L78 A45 L79 A46 L7 A50 L101 A51 L102 A4 | L102 A51 L101 A50 L7 A5 L6 A4 | L34 L33 L39 A12 L38 L37 A33 L61 L35 | A50 L7 A65 L57 | A28 L58 A22 L43 | A22 L43 | L43 A22 | L45 A21 L48 S3 L47 S2 L46 | A22 L41 L43 | A21 L45 | L45 A21 | L45 L44 A21
sketch "Эскиз2" plane through (0, 0, 1) normal (0, 0, 1) x (1, 0, 0)
  circle A0 centre (-18.2249, 4.4) radius 2.1
  circle A1 centre (-18.2249, 4.4) radius 1.6
  point P0 (0, 0)
  dimension "d29" = 3.2
extrude "Выдавливание2" cut sketch "Эскиз2" against normal blind 1 contours A1
ref_plane "РабПлоскость1" through (-21.1, -11.1, 0) normal (0, 1, 0) x (1, 0, 0)
sketch "Эскиз3" plane through (0, 0, 1) normal (0, 0, 1) x (1, 0, 0)
  line L0 (-17.15, -1.45) -> (-18.45, -1.45) projected
  line L1 (-17.15, -2.75) -> (-17.15, -1.45) projected
  line L2 (-18.45, -2.75) -> (-17.15, -2.75) projected
  line L3 (-18.45, -1.45) -> (-18.45, -2.75) projected
  line L4 (-17.15, -3.45) -> (-18.45, -3.45) projected
  line L5 (-17.15, -4.75) -> (-17.15, -3.45) projected
  line L6 (-18.45, -4.75) -> (-17.15, -4.75) projected
  line L7 (-18.45, -3.45) -> (-18.45, -4.75) projected
  line L8 (-18.4122, -10.7426) -> (-17.1122, -10.7426) projected
  line L9 (-18.4122, -9.4426) -> (-18.4122, -10.7426) projected
  line L10 (-17.1122, -9.4426) -> (-18.4122, -9.4426) projected
  line L11 (-17.1122, -10.7426) -> (-17.1122, -9.4426) projected
  line L12 (-17.15, -11.45) -> (-18.45, -11.45) projected
  line L13 (-17.15, -12.75) -> (-17.15, -11.45) projected
  line L14 (-18.45, -12.75) -> (-17.15, -12.75) projected
  line L15 (-18.45, -11.45) -> (-18.45, -12.75) projected
  line L16 (-16.45, -18.75) -> (-15.15, -18.75) projected
  line L17 (-16.45, -17.45) -> (-16.45, -18.75) projected
  line L18 (-15.15, -17.45) -> (-16.45, -17.45) projected
  line L19 (-15.15, -18.75) -> (-15.15, -17.45) projected
  line L20 (-16.45, -16.75) -> (-15.15, -16.75) projected
  line L21 (-16.45, -15.45) -> (-16.45, -16.75) projected
  line L22 (-15.15, -15.45) -> (-16.45, -15.45) projected
  line L23 (-15.15, -16.75) -> (-15.15, -15.45) projected
  line L24 (-18.45, -8.75) -> (-17.15, -8.75) projected
  line L25 (-18.45, -7.45) -> (-18.45, -8.75) projected
  line L26 (-17.15, -7.45) -> (-18.45, -7.45) projected
  line L27 (-17.15, -8.75) -> (-17.15, -7.45) projected
  line L28 (-15.15, -11.45) -> (-16.45, -11.45) projected
  line L29 (-15.15, -12.75) -> (-15.15, -11.45) projected
  line L30 (-16.45, -12.75) -> (-15.15, -12.75) projected
  line L31 (-16.45, -11.45) -> (-16.45, -12.75) projected
  line L32 (-16.45, -20.75) -> (-15.15, -20.75) projected
  line L33 (-16.45, -19.45) -> (-16.45, -20.75) projected
  line L34 (-15.15, -19.45) -> (-16.45, -19.45) projected
  line L35 (-15.15, -20.75) -> (-15.15, -19.45) projected
  line L36 (-15.15, -5.45) -> (-16.45, -5.45) projected
  line L37 (-15.15, -6.75) -> (-15.15, -5.45) projected
  line L38 (-16.45, -6.75) -> (-15.15, -6.75) projected
  line L39 (-16.45, -5.45) -> (-16.45, -6.75) projected
  line L40 (-18.8, -0.9) -> (-18.8, -21.3) projected
  line L41 (-18.8, -21.3) -> (-14.8, -21.3) projected
  line L42 (-14.8, -21.3) -> (-14.8, -0.9) projected
  line L43 (-14.8, -0.9) -> (-18.8, -0.9) projected
  line L44 (-18.45, -5.45) -> (-18.45, -6.75) projected
  line L45 (-17.15, -5.45) -> (-18.45, -5.45) projected
  line L46 (-17.15, -6.75) -> (-17.15, -5.45) projected
  line L47 (-18.45, -6.75) -> (-17.15, -6.75) projected
  line L48 (-17.15, -19.45) -> (-18.45, -19.45) projected
  line L49 (-17.15, -20.75) -> (-17.15, -19.45) projected
  line L50 (-18.45, -20.75) -> (-17.15, -20.75) projected
  line L51 (-18.45, -19.45) -> (-18.45, -20.75) projected
  line L52 (-16.45, -14.75) -> (-15.15, -14.75) projected
  line L53 (-16.45, -13.45) -> (-16.45, -14.75) projected
  line L54 (-15.15, -13.45) -> (-16.45, -13.45) projected
  line L55 (-15.15, -14.75) -> (-15.15, -13.45) projected
  line L56 (-17.15, -13.45) -> (-18.45, -13.45) projected
  line L57 (-17.15, -14.75) -> (-17.15, -13.45) projected
  line L58 (-18.45, -14.75) -> (-17.15, -14.75) projected
  line L59 (-18.45, -13.45) -> (-18.45, -14.75) projected
  line L60 (-17.15, -17.45) -> (-18.45, -17.45) projected
  line L61 (-17.15, -18.75) -> (-17.15, -17.45) projected
  line L62 (-18.45, -18.75) -> (-17.15, -18.75) projected
  line L63 (-18.45, -17.45) -> (-18.45, -18.75) projected
  line L64 (-17.15, -15.45) -> (-18.45, -15.45) projected
  line L65 (-17.15, -16.75) -> (-17.15, -15.45) projected
  line L66 (-18.45, -16.75) -> (-17.15, -16.75) projected
  line L67 (-18.45, -15.45) -> (-18.45, -16.75) projected
  line L68 (-15.15, -9.45) -> (-16.45, -9.45) projected
  line L69 (-15.15, -10.75) -> (-15.15, -9.45) projected
  line L70 (-16.45, -10.75) -> (-15.15, -10.75) projected
  line L71 (-16.45, -9.45) -> (-16.45, -10.75) projected
  line L72 (-15.15, -7.45) -> (-16.45, -7.45) projected
  line L73 (-15.15, -8.75) -> (-15.15, -7.45) projected
  line L74 (-16.45, -8.75) -> (-15.15, -8.75) projected
  line L75 (-16.45, -7.45) -> (-16.45, -8.75) projected
  line L76 (-16.45, -4.75) -> (-15.15, -4.75) projected
  line L77 (-16.45, -3.45) -> (-16.45, -4.75) projected
  line L78 (-15.15, -3.45) -> (-16.45, -3.45) projected
  line L79 (-15.15, -4.75) -> (-15.15, -3.45) projected
  line L80 (-15.15, -2.75) -> (-15.15, -1.45) projected
  line L81 (-16.45, -2.75) -> (-15.15, -2.75) projected
  line L82 (-16.45, -1.45) -> (-16.45, -2.75) projected
  line L83 (-15.15, -1.45) -> (-16.45, -1.45) projected
  point P0 (0, 0)
extrude "Выдавливание3" cut sketch "Эскиз3" against normal blind 0.5 contours L1 L2 L3 L0 | L5 L6 L7 L4 | L9 L10 L11 L8 | L13 L14 L15 L12 | L17 L18 L19 L16 | L21 L22 L23 L20 | L25 L26 L27 L24 | L29 L30 L31 L28 | L33 L34 L35 L32 | L37 L38 L39 L36 | L43 L42 L41 L40 | L45 L46 L47 L44 | L49 L50 L51 L48 | L53 L54 L55 L52 | L57 L58 L59 L56 | L61 L62 L63 L60 | L65 L66 L67 L64 | L69 L70 L71 L68 | L73 L74 L75 L72 | L77 L78 L79 L76 | L81 L82 L83 L80
properties part number "kommutation_board"
